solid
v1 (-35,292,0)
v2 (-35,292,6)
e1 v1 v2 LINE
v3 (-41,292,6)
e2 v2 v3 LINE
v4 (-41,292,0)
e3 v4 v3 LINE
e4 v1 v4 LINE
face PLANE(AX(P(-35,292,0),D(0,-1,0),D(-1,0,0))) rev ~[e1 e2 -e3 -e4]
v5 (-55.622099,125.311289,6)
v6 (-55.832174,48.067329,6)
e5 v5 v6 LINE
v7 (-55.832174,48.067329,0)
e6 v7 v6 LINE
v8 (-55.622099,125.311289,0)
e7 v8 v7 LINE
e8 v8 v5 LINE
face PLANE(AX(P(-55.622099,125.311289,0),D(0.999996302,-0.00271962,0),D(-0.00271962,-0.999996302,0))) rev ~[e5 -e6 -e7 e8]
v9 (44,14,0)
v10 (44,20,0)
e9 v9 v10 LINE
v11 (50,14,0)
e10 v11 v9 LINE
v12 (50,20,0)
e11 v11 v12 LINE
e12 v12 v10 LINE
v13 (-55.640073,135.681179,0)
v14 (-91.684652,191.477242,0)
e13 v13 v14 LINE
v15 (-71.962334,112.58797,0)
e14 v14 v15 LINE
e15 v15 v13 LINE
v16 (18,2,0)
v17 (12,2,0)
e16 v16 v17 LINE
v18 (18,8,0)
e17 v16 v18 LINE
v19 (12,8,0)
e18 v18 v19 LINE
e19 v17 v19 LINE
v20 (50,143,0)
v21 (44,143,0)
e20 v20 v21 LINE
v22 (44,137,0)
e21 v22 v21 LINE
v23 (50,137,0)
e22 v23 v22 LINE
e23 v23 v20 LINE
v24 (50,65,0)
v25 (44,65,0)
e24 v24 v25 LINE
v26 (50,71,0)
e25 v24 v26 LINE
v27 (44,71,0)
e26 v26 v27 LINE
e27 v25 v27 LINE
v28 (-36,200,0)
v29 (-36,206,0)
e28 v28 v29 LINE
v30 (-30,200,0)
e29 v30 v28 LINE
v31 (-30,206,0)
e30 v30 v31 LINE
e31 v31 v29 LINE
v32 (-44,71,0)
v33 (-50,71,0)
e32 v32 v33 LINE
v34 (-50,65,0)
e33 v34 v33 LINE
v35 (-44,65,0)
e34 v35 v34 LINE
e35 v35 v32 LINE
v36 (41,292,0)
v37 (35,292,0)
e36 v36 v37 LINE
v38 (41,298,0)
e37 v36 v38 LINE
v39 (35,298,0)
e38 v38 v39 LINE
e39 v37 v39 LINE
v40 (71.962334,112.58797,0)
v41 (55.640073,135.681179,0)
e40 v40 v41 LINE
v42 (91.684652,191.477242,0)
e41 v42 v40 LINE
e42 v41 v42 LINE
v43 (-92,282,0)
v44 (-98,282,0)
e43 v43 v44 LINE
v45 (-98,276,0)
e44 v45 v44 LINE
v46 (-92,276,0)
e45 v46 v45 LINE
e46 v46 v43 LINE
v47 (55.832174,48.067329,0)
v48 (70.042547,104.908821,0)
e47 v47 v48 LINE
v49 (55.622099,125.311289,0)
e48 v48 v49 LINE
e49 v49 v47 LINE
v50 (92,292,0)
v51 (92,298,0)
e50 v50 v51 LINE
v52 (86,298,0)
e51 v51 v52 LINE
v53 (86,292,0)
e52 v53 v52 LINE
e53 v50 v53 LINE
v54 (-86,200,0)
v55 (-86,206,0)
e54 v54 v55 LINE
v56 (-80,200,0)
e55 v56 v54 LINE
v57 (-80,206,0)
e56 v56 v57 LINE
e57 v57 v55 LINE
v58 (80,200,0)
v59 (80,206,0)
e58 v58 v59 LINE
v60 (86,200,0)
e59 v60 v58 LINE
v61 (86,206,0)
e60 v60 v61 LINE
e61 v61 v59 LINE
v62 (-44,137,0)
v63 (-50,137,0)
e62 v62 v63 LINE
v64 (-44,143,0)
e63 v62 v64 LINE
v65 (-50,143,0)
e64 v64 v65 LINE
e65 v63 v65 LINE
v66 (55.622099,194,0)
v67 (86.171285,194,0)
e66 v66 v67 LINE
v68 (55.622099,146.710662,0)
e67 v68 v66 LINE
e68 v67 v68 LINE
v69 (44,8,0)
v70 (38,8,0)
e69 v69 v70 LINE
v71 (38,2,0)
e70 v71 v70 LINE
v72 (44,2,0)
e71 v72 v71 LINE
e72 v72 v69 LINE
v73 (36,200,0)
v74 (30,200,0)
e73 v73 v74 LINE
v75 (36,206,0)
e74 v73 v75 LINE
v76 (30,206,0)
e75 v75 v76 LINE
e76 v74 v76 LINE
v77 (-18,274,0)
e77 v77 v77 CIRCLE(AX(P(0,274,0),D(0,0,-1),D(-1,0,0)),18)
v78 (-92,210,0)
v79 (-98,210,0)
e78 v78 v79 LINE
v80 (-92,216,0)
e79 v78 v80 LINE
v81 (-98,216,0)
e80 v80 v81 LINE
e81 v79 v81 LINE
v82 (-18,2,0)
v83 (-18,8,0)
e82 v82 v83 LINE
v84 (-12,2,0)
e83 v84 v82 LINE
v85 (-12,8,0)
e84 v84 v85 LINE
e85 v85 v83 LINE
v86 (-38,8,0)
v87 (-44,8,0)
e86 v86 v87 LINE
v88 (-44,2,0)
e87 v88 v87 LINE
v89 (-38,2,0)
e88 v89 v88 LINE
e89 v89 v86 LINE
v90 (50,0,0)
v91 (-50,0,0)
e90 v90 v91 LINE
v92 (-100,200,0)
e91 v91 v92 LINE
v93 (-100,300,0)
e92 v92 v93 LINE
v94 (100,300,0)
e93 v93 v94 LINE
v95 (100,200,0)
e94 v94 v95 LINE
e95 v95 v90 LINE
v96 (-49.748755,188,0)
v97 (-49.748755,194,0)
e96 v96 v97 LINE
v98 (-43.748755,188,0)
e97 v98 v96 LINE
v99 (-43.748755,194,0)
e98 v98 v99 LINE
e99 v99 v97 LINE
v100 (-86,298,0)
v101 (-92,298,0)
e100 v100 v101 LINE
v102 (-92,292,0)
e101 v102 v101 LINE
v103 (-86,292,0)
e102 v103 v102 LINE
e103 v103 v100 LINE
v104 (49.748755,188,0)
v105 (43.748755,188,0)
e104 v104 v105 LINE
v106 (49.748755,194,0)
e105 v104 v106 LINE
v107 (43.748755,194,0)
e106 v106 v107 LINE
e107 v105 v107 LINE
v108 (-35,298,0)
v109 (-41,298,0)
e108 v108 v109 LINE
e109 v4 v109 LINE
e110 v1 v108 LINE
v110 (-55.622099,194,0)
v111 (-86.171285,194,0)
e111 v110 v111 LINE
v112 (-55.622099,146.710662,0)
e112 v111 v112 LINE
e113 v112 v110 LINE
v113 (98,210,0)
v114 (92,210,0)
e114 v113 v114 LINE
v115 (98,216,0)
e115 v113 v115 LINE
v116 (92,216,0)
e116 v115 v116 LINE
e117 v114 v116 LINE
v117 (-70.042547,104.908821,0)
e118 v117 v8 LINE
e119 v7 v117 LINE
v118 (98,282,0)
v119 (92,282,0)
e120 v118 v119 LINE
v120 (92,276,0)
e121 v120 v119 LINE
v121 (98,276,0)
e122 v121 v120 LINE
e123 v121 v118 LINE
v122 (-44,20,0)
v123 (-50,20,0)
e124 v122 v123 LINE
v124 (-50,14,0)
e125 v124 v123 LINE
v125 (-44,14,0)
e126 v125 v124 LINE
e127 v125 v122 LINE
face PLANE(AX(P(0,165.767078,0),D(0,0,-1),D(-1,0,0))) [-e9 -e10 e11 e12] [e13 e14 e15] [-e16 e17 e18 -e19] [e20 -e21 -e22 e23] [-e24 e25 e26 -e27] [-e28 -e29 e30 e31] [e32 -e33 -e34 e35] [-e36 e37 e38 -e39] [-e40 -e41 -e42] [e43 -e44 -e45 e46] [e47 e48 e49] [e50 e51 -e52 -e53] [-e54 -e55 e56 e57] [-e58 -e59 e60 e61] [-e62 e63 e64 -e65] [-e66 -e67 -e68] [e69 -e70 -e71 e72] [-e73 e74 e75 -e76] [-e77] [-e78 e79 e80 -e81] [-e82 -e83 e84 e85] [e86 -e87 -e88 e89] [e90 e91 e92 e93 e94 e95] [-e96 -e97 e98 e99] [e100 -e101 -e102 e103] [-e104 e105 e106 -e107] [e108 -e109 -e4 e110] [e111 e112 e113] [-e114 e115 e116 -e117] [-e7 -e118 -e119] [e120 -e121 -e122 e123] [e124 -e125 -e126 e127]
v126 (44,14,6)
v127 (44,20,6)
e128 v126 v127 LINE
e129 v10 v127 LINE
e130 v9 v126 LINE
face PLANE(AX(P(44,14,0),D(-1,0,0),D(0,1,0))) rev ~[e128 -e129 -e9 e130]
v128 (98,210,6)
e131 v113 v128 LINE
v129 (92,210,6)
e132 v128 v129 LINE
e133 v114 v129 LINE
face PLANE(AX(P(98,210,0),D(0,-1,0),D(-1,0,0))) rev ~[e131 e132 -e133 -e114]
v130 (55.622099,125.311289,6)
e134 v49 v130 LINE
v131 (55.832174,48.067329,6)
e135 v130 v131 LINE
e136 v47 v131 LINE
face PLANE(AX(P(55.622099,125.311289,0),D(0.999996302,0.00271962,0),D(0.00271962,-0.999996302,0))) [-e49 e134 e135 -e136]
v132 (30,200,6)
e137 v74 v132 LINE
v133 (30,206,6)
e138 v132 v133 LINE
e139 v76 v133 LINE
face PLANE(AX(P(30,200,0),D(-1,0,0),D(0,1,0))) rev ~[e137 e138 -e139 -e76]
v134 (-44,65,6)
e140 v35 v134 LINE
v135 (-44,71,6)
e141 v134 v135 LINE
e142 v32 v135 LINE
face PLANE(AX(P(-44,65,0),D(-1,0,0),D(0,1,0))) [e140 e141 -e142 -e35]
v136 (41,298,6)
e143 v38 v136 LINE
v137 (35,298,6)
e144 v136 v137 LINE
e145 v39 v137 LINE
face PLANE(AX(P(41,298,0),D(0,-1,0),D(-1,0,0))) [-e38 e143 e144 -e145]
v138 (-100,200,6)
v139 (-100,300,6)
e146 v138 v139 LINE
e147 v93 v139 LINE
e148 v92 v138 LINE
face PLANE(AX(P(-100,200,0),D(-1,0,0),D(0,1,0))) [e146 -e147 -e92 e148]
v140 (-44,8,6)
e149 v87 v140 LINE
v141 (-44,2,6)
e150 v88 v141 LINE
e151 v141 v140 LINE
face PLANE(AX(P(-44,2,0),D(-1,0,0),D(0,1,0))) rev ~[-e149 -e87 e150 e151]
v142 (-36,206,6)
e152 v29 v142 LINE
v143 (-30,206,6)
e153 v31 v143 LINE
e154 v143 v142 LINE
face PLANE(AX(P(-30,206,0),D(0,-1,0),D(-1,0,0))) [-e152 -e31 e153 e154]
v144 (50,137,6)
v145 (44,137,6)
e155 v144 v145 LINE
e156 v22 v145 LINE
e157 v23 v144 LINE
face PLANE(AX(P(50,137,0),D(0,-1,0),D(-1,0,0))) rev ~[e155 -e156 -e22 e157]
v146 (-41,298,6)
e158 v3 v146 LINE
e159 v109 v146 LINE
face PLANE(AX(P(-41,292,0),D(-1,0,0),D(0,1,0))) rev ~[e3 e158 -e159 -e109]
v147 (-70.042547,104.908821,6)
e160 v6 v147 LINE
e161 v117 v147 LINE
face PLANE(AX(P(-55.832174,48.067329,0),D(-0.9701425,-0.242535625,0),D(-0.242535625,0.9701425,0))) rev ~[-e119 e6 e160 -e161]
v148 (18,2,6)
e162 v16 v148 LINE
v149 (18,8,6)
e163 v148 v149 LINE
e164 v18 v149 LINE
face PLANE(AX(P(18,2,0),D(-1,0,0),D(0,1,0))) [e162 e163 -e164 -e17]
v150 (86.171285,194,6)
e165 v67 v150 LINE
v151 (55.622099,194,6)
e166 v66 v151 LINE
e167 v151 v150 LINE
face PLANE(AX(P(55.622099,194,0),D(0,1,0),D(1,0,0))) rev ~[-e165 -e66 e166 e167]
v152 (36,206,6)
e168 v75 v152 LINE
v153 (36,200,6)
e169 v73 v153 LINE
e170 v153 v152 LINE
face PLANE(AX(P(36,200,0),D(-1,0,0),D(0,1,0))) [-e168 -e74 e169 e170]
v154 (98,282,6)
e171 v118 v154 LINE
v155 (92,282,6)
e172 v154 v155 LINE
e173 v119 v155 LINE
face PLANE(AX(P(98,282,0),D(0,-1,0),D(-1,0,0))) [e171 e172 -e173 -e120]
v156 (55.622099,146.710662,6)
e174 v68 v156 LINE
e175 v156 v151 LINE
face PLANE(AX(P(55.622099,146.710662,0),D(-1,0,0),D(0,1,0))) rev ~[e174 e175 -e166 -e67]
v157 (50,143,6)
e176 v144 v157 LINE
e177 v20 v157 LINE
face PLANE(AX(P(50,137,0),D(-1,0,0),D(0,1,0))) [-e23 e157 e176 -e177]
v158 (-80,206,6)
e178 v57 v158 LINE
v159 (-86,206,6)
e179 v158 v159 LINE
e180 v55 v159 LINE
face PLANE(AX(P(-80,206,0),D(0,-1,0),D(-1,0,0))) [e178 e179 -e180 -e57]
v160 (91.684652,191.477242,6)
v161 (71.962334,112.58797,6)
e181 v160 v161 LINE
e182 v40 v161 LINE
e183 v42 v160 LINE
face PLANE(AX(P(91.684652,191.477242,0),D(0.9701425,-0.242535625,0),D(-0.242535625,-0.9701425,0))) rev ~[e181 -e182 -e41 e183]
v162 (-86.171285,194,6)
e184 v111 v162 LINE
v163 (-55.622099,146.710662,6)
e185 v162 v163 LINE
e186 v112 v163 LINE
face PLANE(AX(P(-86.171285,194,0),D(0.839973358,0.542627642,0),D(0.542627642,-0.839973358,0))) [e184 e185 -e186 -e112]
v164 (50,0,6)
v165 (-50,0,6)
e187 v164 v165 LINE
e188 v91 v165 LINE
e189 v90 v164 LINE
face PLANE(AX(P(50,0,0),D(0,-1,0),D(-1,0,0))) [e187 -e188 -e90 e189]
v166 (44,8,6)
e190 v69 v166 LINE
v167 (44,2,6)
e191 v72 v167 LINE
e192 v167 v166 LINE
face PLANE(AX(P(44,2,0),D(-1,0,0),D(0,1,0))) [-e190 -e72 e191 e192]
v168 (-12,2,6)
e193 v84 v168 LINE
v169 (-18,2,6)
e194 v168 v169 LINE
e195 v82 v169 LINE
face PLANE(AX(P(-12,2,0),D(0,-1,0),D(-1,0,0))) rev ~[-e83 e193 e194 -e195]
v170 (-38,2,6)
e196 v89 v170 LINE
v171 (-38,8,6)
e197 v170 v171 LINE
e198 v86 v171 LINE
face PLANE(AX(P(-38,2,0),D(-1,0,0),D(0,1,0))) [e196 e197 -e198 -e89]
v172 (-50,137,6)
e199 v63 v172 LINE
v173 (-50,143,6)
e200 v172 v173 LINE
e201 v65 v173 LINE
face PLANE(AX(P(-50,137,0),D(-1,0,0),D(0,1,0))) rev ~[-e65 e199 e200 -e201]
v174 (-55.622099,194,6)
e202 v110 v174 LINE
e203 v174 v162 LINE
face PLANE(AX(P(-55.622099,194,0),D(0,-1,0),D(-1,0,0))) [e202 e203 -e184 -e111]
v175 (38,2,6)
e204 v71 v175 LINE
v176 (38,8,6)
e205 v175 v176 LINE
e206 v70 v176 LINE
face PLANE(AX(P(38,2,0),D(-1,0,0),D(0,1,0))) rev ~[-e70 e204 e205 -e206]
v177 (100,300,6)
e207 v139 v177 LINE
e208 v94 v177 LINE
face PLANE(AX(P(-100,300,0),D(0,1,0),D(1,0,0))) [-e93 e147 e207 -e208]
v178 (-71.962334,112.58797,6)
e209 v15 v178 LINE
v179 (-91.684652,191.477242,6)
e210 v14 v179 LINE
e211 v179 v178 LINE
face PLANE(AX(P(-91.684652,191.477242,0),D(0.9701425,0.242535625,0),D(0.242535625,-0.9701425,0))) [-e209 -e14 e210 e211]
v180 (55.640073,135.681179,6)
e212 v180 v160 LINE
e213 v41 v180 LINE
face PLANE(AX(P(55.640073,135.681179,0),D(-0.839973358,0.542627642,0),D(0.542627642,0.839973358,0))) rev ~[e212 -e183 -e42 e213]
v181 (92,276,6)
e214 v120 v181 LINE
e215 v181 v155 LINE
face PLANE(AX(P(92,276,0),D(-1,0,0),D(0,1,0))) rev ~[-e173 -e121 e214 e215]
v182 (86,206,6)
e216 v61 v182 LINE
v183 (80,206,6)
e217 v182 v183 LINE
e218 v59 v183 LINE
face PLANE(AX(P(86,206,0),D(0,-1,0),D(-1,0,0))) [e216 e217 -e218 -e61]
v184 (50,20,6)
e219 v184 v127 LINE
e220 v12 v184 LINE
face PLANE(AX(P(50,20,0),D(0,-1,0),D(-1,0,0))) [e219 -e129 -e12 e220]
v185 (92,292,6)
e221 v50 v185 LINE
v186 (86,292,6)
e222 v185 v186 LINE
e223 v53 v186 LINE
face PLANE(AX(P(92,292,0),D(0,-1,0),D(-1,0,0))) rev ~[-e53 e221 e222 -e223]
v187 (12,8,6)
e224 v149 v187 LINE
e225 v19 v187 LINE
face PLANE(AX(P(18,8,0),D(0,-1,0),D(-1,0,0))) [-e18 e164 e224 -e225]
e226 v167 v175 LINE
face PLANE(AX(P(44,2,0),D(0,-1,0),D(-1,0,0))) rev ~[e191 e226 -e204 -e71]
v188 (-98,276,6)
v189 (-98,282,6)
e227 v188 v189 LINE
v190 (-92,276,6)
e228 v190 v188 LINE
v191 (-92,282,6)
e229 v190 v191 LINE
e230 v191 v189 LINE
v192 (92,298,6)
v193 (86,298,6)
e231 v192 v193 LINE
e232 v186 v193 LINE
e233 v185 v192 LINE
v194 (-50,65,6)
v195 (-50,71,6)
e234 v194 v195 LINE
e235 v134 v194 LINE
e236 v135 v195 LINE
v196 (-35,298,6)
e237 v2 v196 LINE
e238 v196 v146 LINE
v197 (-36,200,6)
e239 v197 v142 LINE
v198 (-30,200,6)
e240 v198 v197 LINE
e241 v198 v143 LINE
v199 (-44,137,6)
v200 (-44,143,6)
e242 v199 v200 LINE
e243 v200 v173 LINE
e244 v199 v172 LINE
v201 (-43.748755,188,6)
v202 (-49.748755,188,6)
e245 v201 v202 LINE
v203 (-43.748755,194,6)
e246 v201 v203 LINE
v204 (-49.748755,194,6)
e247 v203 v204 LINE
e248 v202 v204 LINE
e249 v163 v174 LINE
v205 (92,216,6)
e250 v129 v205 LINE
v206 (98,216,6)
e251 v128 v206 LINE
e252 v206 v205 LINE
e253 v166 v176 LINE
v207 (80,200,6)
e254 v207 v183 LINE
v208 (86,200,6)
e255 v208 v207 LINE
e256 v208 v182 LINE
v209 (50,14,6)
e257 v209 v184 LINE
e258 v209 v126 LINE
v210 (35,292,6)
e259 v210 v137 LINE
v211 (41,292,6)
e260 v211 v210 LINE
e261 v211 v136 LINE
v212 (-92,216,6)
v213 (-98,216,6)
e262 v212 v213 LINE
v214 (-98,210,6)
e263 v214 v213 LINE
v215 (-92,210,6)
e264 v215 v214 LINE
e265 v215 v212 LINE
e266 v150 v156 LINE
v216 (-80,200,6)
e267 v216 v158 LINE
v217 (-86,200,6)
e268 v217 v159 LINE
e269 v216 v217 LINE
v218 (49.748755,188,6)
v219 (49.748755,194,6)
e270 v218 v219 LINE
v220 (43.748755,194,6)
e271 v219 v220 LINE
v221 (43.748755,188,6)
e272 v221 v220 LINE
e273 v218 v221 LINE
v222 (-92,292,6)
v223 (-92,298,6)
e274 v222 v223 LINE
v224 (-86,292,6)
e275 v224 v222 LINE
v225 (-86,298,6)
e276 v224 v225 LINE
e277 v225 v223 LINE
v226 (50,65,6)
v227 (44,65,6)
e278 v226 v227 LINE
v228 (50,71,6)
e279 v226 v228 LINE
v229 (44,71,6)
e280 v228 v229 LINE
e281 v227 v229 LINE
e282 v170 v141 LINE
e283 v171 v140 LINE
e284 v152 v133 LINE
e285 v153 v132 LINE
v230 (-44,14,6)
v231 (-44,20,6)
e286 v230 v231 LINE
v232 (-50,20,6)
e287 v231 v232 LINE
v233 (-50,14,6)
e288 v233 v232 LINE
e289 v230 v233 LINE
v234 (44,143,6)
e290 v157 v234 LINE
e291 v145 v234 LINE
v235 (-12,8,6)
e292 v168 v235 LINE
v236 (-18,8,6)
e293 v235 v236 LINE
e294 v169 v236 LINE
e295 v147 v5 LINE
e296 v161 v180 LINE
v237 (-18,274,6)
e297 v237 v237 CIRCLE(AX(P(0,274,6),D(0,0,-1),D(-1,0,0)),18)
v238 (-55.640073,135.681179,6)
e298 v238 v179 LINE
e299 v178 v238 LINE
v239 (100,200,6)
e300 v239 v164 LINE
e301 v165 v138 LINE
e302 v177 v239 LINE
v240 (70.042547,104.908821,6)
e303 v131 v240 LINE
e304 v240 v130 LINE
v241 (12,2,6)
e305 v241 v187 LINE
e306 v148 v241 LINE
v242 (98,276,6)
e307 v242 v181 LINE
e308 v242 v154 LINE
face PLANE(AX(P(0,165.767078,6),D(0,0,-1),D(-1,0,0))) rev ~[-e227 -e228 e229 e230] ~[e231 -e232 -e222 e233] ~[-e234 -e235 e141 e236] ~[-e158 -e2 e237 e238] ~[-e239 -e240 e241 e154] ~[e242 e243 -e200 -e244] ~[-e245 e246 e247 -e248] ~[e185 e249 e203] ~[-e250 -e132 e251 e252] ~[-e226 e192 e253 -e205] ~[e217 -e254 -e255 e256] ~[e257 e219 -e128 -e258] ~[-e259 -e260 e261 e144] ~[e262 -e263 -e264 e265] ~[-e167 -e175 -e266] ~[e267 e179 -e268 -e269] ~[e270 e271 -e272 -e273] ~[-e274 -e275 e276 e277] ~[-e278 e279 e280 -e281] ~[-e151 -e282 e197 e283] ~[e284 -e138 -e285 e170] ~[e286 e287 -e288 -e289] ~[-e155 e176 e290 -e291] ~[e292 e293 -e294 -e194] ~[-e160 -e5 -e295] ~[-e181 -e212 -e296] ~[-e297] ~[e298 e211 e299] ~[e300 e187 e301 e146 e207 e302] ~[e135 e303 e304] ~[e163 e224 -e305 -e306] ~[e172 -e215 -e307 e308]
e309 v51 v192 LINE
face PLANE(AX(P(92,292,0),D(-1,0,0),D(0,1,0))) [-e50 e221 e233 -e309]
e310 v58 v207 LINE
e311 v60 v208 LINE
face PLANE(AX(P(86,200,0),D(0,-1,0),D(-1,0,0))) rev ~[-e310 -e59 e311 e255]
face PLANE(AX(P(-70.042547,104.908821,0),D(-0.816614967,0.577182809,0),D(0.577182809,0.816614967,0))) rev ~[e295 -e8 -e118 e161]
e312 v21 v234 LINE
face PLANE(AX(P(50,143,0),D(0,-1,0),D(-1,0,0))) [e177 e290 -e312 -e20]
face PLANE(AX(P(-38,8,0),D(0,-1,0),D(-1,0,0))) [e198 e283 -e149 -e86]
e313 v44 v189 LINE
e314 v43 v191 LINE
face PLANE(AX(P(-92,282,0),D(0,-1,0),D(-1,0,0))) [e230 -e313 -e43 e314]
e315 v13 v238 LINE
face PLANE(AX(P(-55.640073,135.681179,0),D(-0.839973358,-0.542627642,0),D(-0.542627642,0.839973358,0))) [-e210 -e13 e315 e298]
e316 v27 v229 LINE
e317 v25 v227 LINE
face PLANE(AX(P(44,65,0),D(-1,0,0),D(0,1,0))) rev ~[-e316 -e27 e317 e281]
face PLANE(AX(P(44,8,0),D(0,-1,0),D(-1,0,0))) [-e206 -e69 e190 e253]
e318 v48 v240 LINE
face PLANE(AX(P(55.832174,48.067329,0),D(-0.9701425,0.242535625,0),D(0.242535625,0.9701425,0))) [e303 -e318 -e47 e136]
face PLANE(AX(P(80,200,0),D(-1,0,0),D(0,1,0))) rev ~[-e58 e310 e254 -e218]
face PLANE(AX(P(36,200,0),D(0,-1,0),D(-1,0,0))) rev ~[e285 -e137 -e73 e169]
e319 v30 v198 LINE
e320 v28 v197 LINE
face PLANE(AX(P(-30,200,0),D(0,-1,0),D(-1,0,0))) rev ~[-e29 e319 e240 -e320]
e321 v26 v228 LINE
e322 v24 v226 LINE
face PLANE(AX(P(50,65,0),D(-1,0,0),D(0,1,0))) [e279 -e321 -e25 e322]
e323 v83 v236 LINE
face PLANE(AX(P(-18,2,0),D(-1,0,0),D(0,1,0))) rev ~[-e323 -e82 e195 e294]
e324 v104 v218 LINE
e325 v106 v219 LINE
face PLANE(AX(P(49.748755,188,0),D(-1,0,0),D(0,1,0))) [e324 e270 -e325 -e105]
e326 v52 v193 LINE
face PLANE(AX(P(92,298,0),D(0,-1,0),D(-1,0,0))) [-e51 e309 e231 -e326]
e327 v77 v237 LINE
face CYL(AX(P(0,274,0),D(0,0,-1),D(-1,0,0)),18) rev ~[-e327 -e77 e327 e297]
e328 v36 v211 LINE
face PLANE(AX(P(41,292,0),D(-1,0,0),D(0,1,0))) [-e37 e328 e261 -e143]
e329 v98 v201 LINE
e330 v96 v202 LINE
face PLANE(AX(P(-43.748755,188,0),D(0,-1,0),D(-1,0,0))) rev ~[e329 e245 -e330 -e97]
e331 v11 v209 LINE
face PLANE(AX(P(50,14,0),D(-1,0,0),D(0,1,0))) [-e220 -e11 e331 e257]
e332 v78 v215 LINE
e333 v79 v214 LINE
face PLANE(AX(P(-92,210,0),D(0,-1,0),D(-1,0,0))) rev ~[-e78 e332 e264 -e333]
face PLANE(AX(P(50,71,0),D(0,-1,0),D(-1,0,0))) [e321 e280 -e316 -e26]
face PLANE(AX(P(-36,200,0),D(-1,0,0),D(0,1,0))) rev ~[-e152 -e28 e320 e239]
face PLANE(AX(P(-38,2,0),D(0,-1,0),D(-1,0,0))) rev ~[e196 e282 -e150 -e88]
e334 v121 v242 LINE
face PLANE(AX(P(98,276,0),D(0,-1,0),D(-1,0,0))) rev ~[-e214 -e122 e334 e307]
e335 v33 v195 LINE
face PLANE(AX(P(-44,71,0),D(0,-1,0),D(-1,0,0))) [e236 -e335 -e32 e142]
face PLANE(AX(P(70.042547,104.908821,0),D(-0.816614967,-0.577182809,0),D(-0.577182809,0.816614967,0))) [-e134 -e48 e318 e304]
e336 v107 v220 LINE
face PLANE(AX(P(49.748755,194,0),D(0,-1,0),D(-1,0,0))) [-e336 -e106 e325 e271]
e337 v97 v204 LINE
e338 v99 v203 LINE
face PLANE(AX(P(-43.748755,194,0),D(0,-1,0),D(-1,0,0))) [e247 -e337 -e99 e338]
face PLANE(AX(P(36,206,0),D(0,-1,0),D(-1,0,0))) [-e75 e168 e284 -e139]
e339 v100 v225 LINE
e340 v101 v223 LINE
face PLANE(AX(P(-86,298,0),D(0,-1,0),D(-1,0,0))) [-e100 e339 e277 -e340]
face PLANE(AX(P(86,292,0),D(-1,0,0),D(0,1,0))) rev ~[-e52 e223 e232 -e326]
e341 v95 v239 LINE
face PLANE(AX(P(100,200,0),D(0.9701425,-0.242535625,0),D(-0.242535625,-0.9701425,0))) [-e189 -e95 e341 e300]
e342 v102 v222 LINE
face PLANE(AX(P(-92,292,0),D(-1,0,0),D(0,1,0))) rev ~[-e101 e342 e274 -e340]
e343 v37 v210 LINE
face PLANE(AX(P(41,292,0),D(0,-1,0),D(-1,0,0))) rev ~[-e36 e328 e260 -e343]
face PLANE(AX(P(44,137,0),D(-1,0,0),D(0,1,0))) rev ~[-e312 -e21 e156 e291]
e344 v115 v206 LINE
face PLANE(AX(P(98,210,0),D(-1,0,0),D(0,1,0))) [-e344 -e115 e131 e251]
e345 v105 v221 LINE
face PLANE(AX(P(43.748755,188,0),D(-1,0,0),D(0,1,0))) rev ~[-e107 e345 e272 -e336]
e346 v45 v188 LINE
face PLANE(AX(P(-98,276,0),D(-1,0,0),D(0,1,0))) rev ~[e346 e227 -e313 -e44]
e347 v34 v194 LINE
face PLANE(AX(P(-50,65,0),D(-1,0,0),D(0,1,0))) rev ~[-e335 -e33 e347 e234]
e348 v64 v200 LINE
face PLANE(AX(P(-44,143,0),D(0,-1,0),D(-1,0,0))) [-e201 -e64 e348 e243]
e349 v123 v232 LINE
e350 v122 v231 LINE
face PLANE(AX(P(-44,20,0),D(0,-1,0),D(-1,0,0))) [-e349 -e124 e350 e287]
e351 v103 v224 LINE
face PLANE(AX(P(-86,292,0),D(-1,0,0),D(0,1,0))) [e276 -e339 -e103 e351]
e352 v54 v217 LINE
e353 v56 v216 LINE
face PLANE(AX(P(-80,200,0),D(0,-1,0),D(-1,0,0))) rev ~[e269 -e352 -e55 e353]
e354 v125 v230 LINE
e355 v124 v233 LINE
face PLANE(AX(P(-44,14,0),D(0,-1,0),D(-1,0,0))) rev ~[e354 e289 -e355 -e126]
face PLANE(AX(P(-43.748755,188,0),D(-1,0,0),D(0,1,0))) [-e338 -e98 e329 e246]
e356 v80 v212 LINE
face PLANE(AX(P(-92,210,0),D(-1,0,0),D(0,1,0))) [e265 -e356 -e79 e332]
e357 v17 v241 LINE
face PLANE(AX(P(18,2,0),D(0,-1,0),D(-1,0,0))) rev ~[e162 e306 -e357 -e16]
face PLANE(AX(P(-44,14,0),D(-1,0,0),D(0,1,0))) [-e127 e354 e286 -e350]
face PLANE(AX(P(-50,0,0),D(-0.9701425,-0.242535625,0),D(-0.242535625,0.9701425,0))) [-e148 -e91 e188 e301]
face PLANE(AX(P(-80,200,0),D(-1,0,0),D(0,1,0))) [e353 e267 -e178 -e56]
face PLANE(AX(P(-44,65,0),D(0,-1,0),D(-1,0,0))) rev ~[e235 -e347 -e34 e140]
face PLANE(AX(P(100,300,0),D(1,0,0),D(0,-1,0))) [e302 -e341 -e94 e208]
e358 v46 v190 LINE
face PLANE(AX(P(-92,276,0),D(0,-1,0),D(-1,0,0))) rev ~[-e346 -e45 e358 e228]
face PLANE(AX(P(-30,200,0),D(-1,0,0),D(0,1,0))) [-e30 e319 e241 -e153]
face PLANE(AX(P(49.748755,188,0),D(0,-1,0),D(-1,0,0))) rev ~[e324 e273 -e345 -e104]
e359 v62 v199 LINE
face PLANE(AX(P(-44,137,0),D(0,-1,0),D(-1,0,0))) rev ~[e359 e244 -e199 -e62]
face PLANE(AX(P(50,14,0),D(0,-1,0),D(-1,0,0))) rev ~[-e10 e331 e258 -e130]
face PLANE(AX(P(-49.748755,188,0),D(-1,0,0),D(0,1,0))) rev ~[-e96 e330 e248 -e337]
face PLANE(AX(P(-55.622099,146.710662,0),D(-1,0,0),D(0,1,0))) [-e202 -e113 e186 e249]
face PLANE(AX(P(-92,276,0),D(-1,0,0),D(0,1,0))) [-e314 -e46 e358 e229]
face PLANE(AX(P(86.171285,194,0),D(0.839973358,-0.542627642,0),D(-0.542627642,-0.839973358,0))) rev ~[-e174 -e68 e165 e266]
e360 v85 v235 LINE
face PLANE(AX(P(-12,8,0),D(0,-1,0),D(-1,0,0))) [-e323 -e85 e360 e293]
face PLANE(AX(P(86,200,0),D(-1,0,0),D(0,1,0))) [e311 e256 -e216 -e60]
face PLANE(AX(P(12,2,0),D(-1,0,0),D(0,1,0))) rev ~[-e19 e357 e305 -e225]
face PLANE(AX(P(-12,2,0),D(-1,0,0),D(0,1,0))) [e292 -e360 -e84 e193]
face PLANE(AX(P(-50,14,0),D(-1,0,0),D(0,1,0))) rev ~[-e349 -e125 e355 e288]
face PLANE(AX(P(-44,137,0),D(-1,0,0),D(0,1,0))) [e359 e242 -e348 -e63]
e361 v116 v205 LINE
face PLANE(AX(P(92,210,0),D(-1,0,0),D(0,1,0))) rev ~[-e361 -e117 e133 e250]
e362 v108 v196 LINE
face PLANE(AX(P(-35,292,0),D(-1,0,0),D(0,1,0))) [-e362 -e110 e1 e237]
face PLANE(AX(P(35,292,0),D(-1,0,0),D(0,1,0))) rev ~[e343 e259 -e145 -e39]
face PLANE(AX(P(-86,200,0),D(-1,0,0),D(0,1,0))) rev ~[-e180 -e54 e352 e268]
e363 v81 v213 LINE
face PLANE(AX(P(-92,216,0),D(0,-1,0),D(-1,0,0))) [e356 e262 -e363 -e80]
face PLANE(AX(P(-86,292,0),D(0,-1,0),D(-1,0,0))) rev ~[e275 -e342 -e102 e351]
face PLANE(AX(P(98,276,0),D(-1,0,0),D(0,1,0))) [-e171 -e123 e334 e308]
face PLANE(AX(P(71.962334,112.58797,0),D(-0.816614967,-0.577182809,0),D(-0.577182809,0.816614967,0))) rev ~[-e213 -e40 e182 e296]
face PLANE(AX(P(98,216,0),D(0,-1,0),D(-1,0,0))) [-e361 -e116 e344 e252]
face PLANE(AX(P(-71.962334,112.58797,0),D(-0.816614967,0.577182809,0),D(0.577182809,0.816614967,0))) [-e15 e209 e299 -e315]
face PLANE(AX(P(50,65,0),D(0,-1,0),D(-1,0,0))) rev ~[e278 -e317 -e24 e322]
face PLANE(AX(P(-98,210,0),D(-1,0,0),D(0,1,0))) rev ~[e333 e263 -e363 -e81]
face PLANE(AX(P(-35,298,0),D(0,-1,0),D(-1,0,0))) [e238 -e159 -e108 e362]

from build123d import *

# Parameters (mm, degrees)
BOSS_EXTRUDE1_DEPTH = 6
SKETCH4_W           = 6
SKETCH4_H           = 6
CUT_EXTRUDE2_DEPTH  = 6
SKETCH5_R           = 18
CUT_EXTRUDE3_DEPTH  = 6


with BuildPart() as part:
    # Sketch1 → Boss-Extrude1 (new body)
    with BuildSketch(Plane.XY):
        Polygon((100, 300), (100, 200), (50, 0), (-50, 0), (-100, 200), (-100, 300), align=None)
    extrude(amount=BOSS_EXTRUDE1_DEPTH)

    # Sketch4 → Cut-Extrude2 (cut)
    with BuildSketch(Plane(origin=(0, 0, 0), x_dir=(-1, 0, 0), z_dir=(0, 0, -1))):
        with Locations((-249.21822542, 247.31110849)):
            Rectangle(SKETCH4_W, SKETCH4_H)
        with Locations((-95, 279)):
            Rectangle(SKETCH4_W, SKETCH4_H)
        with Locations((-95, 213)):
            Rectangle(SKETCH4_W, SKETCH4_H)
        with Locations((-89, 295)):
            Rectangle(SKETCH4_W, SKETCH4_H)
        with Locations((-41, 5)):
            Rectangle(SKETCH4_W, SKETCH4_H)
        with Locations((-38, 295)):
            Rectangle(SKETCH4_W, SKETCH4_H)
        with Locations((-83, 203)):
            Rectangle(SKETCH4_W, SKETCH4_H)
        with Locations((-33, 203)):
            Rectangle(SKETCH4_W, SKETCH4_H)
        with Locations((-15, 5)):
            Rectangle(SKETCH4_W, SKETCH4_H)
        with Locations((-47, 17)):
            Rectangle(SKETCH4_W, SKETCH4_H)
        with Locations((-47, 68)):
            Rectangle(SKETCH4_W, SKETCH4_H)
        with Locations((-46.748754565, 191)):
            Rectangle(SKETCH4_W, SKETCH4_H)
        with Locations((-47, 140)):
            Rectangle(SKETCH4_W, SKETCH4_H)
        with Locations((38, 295)):
            Rectangle(SKETCH4_W, SKETCH4_H)
        with Locations((89, 295)):
            Rectangle(SKETCH4_W, SKETCH4_H)
        with Locations((95, 279)):
            Rectangle(SKETCH4_W, SKETCH4_H)
        with Locations((83, 203)):
            Rectangle(SKETCH4_W, SKETCH4_H)
        with Locations((95, 213)):
            Rectangle(SKETCH4_W, SKETCH4_H)
        with Locations((46.748754565, 191)):
            Rectangle(SKETCH4_W, SKETCH4_H)
        with Locations((47, 140)):
            Rectangle(SKETCH4_W, SKETCH4_H)
        with Locations((47, 68)):
            Rectangle(SKETCH4_W, SKETCH4_H)
        with Locations((47, 17)):
            Rectangle(SKETCH4_W, SKETCH4_H)
        with Locations((41, 5)):
            Rectangle(SKETCH4_W, SKETCH4_H)
        with Locations((15, 5)):
            Rectangle(SKETCH4_W, SKETCH4_H)
        with Locations((33, 203)):
            Rectangle(SKETCH4_W, SKETCH4_H)
        Polygon((55.622098795, 194), (86.171284614, 194), (55.622098795, 146.710661579), align=None)
        Polygon((55.640072778, 135.681178614), (91.684652057, 191.47724198), (71.962334114, 112.587970208), align=None)
        Polygon((70.042546798, 104.908820946), (55.622098795, 125.311288729), (55.832173802, 48.067328963), align=None)
        Polygon((-55.832173802, 48.067328963), (-70.042546798, 104.908820946), (-55.622098795, 125.311288729), align=None)
        Polygon((-71.962334114, 112.587970208), (-55.640072778, 135.681178614), (-91.684652057, 191.47724198), align=None)
        Polygon((-86.171284614, 194), (-55.622098795, 146.710661579), (-55.622098795, 194), align=None)
    extrude(amount=-CUT_EXTRUDE2_DEPTH, mode=Mode.SUBTRACT)

    # Sketch5 → Cut-Extrude3 (cut)
    with BuildSketch(Plane(origin=(0, 0, 0), x_dir=(-1, 0, 0), z_dir=(0, 0, -1))):
        with Locations((0, 274)):
            Circle(SKETCH5_R)
    extrude(amount=-CUT_EXTRUDE3_DEPTH, mode=Mode.SUBTRACT)


solid = part.part
